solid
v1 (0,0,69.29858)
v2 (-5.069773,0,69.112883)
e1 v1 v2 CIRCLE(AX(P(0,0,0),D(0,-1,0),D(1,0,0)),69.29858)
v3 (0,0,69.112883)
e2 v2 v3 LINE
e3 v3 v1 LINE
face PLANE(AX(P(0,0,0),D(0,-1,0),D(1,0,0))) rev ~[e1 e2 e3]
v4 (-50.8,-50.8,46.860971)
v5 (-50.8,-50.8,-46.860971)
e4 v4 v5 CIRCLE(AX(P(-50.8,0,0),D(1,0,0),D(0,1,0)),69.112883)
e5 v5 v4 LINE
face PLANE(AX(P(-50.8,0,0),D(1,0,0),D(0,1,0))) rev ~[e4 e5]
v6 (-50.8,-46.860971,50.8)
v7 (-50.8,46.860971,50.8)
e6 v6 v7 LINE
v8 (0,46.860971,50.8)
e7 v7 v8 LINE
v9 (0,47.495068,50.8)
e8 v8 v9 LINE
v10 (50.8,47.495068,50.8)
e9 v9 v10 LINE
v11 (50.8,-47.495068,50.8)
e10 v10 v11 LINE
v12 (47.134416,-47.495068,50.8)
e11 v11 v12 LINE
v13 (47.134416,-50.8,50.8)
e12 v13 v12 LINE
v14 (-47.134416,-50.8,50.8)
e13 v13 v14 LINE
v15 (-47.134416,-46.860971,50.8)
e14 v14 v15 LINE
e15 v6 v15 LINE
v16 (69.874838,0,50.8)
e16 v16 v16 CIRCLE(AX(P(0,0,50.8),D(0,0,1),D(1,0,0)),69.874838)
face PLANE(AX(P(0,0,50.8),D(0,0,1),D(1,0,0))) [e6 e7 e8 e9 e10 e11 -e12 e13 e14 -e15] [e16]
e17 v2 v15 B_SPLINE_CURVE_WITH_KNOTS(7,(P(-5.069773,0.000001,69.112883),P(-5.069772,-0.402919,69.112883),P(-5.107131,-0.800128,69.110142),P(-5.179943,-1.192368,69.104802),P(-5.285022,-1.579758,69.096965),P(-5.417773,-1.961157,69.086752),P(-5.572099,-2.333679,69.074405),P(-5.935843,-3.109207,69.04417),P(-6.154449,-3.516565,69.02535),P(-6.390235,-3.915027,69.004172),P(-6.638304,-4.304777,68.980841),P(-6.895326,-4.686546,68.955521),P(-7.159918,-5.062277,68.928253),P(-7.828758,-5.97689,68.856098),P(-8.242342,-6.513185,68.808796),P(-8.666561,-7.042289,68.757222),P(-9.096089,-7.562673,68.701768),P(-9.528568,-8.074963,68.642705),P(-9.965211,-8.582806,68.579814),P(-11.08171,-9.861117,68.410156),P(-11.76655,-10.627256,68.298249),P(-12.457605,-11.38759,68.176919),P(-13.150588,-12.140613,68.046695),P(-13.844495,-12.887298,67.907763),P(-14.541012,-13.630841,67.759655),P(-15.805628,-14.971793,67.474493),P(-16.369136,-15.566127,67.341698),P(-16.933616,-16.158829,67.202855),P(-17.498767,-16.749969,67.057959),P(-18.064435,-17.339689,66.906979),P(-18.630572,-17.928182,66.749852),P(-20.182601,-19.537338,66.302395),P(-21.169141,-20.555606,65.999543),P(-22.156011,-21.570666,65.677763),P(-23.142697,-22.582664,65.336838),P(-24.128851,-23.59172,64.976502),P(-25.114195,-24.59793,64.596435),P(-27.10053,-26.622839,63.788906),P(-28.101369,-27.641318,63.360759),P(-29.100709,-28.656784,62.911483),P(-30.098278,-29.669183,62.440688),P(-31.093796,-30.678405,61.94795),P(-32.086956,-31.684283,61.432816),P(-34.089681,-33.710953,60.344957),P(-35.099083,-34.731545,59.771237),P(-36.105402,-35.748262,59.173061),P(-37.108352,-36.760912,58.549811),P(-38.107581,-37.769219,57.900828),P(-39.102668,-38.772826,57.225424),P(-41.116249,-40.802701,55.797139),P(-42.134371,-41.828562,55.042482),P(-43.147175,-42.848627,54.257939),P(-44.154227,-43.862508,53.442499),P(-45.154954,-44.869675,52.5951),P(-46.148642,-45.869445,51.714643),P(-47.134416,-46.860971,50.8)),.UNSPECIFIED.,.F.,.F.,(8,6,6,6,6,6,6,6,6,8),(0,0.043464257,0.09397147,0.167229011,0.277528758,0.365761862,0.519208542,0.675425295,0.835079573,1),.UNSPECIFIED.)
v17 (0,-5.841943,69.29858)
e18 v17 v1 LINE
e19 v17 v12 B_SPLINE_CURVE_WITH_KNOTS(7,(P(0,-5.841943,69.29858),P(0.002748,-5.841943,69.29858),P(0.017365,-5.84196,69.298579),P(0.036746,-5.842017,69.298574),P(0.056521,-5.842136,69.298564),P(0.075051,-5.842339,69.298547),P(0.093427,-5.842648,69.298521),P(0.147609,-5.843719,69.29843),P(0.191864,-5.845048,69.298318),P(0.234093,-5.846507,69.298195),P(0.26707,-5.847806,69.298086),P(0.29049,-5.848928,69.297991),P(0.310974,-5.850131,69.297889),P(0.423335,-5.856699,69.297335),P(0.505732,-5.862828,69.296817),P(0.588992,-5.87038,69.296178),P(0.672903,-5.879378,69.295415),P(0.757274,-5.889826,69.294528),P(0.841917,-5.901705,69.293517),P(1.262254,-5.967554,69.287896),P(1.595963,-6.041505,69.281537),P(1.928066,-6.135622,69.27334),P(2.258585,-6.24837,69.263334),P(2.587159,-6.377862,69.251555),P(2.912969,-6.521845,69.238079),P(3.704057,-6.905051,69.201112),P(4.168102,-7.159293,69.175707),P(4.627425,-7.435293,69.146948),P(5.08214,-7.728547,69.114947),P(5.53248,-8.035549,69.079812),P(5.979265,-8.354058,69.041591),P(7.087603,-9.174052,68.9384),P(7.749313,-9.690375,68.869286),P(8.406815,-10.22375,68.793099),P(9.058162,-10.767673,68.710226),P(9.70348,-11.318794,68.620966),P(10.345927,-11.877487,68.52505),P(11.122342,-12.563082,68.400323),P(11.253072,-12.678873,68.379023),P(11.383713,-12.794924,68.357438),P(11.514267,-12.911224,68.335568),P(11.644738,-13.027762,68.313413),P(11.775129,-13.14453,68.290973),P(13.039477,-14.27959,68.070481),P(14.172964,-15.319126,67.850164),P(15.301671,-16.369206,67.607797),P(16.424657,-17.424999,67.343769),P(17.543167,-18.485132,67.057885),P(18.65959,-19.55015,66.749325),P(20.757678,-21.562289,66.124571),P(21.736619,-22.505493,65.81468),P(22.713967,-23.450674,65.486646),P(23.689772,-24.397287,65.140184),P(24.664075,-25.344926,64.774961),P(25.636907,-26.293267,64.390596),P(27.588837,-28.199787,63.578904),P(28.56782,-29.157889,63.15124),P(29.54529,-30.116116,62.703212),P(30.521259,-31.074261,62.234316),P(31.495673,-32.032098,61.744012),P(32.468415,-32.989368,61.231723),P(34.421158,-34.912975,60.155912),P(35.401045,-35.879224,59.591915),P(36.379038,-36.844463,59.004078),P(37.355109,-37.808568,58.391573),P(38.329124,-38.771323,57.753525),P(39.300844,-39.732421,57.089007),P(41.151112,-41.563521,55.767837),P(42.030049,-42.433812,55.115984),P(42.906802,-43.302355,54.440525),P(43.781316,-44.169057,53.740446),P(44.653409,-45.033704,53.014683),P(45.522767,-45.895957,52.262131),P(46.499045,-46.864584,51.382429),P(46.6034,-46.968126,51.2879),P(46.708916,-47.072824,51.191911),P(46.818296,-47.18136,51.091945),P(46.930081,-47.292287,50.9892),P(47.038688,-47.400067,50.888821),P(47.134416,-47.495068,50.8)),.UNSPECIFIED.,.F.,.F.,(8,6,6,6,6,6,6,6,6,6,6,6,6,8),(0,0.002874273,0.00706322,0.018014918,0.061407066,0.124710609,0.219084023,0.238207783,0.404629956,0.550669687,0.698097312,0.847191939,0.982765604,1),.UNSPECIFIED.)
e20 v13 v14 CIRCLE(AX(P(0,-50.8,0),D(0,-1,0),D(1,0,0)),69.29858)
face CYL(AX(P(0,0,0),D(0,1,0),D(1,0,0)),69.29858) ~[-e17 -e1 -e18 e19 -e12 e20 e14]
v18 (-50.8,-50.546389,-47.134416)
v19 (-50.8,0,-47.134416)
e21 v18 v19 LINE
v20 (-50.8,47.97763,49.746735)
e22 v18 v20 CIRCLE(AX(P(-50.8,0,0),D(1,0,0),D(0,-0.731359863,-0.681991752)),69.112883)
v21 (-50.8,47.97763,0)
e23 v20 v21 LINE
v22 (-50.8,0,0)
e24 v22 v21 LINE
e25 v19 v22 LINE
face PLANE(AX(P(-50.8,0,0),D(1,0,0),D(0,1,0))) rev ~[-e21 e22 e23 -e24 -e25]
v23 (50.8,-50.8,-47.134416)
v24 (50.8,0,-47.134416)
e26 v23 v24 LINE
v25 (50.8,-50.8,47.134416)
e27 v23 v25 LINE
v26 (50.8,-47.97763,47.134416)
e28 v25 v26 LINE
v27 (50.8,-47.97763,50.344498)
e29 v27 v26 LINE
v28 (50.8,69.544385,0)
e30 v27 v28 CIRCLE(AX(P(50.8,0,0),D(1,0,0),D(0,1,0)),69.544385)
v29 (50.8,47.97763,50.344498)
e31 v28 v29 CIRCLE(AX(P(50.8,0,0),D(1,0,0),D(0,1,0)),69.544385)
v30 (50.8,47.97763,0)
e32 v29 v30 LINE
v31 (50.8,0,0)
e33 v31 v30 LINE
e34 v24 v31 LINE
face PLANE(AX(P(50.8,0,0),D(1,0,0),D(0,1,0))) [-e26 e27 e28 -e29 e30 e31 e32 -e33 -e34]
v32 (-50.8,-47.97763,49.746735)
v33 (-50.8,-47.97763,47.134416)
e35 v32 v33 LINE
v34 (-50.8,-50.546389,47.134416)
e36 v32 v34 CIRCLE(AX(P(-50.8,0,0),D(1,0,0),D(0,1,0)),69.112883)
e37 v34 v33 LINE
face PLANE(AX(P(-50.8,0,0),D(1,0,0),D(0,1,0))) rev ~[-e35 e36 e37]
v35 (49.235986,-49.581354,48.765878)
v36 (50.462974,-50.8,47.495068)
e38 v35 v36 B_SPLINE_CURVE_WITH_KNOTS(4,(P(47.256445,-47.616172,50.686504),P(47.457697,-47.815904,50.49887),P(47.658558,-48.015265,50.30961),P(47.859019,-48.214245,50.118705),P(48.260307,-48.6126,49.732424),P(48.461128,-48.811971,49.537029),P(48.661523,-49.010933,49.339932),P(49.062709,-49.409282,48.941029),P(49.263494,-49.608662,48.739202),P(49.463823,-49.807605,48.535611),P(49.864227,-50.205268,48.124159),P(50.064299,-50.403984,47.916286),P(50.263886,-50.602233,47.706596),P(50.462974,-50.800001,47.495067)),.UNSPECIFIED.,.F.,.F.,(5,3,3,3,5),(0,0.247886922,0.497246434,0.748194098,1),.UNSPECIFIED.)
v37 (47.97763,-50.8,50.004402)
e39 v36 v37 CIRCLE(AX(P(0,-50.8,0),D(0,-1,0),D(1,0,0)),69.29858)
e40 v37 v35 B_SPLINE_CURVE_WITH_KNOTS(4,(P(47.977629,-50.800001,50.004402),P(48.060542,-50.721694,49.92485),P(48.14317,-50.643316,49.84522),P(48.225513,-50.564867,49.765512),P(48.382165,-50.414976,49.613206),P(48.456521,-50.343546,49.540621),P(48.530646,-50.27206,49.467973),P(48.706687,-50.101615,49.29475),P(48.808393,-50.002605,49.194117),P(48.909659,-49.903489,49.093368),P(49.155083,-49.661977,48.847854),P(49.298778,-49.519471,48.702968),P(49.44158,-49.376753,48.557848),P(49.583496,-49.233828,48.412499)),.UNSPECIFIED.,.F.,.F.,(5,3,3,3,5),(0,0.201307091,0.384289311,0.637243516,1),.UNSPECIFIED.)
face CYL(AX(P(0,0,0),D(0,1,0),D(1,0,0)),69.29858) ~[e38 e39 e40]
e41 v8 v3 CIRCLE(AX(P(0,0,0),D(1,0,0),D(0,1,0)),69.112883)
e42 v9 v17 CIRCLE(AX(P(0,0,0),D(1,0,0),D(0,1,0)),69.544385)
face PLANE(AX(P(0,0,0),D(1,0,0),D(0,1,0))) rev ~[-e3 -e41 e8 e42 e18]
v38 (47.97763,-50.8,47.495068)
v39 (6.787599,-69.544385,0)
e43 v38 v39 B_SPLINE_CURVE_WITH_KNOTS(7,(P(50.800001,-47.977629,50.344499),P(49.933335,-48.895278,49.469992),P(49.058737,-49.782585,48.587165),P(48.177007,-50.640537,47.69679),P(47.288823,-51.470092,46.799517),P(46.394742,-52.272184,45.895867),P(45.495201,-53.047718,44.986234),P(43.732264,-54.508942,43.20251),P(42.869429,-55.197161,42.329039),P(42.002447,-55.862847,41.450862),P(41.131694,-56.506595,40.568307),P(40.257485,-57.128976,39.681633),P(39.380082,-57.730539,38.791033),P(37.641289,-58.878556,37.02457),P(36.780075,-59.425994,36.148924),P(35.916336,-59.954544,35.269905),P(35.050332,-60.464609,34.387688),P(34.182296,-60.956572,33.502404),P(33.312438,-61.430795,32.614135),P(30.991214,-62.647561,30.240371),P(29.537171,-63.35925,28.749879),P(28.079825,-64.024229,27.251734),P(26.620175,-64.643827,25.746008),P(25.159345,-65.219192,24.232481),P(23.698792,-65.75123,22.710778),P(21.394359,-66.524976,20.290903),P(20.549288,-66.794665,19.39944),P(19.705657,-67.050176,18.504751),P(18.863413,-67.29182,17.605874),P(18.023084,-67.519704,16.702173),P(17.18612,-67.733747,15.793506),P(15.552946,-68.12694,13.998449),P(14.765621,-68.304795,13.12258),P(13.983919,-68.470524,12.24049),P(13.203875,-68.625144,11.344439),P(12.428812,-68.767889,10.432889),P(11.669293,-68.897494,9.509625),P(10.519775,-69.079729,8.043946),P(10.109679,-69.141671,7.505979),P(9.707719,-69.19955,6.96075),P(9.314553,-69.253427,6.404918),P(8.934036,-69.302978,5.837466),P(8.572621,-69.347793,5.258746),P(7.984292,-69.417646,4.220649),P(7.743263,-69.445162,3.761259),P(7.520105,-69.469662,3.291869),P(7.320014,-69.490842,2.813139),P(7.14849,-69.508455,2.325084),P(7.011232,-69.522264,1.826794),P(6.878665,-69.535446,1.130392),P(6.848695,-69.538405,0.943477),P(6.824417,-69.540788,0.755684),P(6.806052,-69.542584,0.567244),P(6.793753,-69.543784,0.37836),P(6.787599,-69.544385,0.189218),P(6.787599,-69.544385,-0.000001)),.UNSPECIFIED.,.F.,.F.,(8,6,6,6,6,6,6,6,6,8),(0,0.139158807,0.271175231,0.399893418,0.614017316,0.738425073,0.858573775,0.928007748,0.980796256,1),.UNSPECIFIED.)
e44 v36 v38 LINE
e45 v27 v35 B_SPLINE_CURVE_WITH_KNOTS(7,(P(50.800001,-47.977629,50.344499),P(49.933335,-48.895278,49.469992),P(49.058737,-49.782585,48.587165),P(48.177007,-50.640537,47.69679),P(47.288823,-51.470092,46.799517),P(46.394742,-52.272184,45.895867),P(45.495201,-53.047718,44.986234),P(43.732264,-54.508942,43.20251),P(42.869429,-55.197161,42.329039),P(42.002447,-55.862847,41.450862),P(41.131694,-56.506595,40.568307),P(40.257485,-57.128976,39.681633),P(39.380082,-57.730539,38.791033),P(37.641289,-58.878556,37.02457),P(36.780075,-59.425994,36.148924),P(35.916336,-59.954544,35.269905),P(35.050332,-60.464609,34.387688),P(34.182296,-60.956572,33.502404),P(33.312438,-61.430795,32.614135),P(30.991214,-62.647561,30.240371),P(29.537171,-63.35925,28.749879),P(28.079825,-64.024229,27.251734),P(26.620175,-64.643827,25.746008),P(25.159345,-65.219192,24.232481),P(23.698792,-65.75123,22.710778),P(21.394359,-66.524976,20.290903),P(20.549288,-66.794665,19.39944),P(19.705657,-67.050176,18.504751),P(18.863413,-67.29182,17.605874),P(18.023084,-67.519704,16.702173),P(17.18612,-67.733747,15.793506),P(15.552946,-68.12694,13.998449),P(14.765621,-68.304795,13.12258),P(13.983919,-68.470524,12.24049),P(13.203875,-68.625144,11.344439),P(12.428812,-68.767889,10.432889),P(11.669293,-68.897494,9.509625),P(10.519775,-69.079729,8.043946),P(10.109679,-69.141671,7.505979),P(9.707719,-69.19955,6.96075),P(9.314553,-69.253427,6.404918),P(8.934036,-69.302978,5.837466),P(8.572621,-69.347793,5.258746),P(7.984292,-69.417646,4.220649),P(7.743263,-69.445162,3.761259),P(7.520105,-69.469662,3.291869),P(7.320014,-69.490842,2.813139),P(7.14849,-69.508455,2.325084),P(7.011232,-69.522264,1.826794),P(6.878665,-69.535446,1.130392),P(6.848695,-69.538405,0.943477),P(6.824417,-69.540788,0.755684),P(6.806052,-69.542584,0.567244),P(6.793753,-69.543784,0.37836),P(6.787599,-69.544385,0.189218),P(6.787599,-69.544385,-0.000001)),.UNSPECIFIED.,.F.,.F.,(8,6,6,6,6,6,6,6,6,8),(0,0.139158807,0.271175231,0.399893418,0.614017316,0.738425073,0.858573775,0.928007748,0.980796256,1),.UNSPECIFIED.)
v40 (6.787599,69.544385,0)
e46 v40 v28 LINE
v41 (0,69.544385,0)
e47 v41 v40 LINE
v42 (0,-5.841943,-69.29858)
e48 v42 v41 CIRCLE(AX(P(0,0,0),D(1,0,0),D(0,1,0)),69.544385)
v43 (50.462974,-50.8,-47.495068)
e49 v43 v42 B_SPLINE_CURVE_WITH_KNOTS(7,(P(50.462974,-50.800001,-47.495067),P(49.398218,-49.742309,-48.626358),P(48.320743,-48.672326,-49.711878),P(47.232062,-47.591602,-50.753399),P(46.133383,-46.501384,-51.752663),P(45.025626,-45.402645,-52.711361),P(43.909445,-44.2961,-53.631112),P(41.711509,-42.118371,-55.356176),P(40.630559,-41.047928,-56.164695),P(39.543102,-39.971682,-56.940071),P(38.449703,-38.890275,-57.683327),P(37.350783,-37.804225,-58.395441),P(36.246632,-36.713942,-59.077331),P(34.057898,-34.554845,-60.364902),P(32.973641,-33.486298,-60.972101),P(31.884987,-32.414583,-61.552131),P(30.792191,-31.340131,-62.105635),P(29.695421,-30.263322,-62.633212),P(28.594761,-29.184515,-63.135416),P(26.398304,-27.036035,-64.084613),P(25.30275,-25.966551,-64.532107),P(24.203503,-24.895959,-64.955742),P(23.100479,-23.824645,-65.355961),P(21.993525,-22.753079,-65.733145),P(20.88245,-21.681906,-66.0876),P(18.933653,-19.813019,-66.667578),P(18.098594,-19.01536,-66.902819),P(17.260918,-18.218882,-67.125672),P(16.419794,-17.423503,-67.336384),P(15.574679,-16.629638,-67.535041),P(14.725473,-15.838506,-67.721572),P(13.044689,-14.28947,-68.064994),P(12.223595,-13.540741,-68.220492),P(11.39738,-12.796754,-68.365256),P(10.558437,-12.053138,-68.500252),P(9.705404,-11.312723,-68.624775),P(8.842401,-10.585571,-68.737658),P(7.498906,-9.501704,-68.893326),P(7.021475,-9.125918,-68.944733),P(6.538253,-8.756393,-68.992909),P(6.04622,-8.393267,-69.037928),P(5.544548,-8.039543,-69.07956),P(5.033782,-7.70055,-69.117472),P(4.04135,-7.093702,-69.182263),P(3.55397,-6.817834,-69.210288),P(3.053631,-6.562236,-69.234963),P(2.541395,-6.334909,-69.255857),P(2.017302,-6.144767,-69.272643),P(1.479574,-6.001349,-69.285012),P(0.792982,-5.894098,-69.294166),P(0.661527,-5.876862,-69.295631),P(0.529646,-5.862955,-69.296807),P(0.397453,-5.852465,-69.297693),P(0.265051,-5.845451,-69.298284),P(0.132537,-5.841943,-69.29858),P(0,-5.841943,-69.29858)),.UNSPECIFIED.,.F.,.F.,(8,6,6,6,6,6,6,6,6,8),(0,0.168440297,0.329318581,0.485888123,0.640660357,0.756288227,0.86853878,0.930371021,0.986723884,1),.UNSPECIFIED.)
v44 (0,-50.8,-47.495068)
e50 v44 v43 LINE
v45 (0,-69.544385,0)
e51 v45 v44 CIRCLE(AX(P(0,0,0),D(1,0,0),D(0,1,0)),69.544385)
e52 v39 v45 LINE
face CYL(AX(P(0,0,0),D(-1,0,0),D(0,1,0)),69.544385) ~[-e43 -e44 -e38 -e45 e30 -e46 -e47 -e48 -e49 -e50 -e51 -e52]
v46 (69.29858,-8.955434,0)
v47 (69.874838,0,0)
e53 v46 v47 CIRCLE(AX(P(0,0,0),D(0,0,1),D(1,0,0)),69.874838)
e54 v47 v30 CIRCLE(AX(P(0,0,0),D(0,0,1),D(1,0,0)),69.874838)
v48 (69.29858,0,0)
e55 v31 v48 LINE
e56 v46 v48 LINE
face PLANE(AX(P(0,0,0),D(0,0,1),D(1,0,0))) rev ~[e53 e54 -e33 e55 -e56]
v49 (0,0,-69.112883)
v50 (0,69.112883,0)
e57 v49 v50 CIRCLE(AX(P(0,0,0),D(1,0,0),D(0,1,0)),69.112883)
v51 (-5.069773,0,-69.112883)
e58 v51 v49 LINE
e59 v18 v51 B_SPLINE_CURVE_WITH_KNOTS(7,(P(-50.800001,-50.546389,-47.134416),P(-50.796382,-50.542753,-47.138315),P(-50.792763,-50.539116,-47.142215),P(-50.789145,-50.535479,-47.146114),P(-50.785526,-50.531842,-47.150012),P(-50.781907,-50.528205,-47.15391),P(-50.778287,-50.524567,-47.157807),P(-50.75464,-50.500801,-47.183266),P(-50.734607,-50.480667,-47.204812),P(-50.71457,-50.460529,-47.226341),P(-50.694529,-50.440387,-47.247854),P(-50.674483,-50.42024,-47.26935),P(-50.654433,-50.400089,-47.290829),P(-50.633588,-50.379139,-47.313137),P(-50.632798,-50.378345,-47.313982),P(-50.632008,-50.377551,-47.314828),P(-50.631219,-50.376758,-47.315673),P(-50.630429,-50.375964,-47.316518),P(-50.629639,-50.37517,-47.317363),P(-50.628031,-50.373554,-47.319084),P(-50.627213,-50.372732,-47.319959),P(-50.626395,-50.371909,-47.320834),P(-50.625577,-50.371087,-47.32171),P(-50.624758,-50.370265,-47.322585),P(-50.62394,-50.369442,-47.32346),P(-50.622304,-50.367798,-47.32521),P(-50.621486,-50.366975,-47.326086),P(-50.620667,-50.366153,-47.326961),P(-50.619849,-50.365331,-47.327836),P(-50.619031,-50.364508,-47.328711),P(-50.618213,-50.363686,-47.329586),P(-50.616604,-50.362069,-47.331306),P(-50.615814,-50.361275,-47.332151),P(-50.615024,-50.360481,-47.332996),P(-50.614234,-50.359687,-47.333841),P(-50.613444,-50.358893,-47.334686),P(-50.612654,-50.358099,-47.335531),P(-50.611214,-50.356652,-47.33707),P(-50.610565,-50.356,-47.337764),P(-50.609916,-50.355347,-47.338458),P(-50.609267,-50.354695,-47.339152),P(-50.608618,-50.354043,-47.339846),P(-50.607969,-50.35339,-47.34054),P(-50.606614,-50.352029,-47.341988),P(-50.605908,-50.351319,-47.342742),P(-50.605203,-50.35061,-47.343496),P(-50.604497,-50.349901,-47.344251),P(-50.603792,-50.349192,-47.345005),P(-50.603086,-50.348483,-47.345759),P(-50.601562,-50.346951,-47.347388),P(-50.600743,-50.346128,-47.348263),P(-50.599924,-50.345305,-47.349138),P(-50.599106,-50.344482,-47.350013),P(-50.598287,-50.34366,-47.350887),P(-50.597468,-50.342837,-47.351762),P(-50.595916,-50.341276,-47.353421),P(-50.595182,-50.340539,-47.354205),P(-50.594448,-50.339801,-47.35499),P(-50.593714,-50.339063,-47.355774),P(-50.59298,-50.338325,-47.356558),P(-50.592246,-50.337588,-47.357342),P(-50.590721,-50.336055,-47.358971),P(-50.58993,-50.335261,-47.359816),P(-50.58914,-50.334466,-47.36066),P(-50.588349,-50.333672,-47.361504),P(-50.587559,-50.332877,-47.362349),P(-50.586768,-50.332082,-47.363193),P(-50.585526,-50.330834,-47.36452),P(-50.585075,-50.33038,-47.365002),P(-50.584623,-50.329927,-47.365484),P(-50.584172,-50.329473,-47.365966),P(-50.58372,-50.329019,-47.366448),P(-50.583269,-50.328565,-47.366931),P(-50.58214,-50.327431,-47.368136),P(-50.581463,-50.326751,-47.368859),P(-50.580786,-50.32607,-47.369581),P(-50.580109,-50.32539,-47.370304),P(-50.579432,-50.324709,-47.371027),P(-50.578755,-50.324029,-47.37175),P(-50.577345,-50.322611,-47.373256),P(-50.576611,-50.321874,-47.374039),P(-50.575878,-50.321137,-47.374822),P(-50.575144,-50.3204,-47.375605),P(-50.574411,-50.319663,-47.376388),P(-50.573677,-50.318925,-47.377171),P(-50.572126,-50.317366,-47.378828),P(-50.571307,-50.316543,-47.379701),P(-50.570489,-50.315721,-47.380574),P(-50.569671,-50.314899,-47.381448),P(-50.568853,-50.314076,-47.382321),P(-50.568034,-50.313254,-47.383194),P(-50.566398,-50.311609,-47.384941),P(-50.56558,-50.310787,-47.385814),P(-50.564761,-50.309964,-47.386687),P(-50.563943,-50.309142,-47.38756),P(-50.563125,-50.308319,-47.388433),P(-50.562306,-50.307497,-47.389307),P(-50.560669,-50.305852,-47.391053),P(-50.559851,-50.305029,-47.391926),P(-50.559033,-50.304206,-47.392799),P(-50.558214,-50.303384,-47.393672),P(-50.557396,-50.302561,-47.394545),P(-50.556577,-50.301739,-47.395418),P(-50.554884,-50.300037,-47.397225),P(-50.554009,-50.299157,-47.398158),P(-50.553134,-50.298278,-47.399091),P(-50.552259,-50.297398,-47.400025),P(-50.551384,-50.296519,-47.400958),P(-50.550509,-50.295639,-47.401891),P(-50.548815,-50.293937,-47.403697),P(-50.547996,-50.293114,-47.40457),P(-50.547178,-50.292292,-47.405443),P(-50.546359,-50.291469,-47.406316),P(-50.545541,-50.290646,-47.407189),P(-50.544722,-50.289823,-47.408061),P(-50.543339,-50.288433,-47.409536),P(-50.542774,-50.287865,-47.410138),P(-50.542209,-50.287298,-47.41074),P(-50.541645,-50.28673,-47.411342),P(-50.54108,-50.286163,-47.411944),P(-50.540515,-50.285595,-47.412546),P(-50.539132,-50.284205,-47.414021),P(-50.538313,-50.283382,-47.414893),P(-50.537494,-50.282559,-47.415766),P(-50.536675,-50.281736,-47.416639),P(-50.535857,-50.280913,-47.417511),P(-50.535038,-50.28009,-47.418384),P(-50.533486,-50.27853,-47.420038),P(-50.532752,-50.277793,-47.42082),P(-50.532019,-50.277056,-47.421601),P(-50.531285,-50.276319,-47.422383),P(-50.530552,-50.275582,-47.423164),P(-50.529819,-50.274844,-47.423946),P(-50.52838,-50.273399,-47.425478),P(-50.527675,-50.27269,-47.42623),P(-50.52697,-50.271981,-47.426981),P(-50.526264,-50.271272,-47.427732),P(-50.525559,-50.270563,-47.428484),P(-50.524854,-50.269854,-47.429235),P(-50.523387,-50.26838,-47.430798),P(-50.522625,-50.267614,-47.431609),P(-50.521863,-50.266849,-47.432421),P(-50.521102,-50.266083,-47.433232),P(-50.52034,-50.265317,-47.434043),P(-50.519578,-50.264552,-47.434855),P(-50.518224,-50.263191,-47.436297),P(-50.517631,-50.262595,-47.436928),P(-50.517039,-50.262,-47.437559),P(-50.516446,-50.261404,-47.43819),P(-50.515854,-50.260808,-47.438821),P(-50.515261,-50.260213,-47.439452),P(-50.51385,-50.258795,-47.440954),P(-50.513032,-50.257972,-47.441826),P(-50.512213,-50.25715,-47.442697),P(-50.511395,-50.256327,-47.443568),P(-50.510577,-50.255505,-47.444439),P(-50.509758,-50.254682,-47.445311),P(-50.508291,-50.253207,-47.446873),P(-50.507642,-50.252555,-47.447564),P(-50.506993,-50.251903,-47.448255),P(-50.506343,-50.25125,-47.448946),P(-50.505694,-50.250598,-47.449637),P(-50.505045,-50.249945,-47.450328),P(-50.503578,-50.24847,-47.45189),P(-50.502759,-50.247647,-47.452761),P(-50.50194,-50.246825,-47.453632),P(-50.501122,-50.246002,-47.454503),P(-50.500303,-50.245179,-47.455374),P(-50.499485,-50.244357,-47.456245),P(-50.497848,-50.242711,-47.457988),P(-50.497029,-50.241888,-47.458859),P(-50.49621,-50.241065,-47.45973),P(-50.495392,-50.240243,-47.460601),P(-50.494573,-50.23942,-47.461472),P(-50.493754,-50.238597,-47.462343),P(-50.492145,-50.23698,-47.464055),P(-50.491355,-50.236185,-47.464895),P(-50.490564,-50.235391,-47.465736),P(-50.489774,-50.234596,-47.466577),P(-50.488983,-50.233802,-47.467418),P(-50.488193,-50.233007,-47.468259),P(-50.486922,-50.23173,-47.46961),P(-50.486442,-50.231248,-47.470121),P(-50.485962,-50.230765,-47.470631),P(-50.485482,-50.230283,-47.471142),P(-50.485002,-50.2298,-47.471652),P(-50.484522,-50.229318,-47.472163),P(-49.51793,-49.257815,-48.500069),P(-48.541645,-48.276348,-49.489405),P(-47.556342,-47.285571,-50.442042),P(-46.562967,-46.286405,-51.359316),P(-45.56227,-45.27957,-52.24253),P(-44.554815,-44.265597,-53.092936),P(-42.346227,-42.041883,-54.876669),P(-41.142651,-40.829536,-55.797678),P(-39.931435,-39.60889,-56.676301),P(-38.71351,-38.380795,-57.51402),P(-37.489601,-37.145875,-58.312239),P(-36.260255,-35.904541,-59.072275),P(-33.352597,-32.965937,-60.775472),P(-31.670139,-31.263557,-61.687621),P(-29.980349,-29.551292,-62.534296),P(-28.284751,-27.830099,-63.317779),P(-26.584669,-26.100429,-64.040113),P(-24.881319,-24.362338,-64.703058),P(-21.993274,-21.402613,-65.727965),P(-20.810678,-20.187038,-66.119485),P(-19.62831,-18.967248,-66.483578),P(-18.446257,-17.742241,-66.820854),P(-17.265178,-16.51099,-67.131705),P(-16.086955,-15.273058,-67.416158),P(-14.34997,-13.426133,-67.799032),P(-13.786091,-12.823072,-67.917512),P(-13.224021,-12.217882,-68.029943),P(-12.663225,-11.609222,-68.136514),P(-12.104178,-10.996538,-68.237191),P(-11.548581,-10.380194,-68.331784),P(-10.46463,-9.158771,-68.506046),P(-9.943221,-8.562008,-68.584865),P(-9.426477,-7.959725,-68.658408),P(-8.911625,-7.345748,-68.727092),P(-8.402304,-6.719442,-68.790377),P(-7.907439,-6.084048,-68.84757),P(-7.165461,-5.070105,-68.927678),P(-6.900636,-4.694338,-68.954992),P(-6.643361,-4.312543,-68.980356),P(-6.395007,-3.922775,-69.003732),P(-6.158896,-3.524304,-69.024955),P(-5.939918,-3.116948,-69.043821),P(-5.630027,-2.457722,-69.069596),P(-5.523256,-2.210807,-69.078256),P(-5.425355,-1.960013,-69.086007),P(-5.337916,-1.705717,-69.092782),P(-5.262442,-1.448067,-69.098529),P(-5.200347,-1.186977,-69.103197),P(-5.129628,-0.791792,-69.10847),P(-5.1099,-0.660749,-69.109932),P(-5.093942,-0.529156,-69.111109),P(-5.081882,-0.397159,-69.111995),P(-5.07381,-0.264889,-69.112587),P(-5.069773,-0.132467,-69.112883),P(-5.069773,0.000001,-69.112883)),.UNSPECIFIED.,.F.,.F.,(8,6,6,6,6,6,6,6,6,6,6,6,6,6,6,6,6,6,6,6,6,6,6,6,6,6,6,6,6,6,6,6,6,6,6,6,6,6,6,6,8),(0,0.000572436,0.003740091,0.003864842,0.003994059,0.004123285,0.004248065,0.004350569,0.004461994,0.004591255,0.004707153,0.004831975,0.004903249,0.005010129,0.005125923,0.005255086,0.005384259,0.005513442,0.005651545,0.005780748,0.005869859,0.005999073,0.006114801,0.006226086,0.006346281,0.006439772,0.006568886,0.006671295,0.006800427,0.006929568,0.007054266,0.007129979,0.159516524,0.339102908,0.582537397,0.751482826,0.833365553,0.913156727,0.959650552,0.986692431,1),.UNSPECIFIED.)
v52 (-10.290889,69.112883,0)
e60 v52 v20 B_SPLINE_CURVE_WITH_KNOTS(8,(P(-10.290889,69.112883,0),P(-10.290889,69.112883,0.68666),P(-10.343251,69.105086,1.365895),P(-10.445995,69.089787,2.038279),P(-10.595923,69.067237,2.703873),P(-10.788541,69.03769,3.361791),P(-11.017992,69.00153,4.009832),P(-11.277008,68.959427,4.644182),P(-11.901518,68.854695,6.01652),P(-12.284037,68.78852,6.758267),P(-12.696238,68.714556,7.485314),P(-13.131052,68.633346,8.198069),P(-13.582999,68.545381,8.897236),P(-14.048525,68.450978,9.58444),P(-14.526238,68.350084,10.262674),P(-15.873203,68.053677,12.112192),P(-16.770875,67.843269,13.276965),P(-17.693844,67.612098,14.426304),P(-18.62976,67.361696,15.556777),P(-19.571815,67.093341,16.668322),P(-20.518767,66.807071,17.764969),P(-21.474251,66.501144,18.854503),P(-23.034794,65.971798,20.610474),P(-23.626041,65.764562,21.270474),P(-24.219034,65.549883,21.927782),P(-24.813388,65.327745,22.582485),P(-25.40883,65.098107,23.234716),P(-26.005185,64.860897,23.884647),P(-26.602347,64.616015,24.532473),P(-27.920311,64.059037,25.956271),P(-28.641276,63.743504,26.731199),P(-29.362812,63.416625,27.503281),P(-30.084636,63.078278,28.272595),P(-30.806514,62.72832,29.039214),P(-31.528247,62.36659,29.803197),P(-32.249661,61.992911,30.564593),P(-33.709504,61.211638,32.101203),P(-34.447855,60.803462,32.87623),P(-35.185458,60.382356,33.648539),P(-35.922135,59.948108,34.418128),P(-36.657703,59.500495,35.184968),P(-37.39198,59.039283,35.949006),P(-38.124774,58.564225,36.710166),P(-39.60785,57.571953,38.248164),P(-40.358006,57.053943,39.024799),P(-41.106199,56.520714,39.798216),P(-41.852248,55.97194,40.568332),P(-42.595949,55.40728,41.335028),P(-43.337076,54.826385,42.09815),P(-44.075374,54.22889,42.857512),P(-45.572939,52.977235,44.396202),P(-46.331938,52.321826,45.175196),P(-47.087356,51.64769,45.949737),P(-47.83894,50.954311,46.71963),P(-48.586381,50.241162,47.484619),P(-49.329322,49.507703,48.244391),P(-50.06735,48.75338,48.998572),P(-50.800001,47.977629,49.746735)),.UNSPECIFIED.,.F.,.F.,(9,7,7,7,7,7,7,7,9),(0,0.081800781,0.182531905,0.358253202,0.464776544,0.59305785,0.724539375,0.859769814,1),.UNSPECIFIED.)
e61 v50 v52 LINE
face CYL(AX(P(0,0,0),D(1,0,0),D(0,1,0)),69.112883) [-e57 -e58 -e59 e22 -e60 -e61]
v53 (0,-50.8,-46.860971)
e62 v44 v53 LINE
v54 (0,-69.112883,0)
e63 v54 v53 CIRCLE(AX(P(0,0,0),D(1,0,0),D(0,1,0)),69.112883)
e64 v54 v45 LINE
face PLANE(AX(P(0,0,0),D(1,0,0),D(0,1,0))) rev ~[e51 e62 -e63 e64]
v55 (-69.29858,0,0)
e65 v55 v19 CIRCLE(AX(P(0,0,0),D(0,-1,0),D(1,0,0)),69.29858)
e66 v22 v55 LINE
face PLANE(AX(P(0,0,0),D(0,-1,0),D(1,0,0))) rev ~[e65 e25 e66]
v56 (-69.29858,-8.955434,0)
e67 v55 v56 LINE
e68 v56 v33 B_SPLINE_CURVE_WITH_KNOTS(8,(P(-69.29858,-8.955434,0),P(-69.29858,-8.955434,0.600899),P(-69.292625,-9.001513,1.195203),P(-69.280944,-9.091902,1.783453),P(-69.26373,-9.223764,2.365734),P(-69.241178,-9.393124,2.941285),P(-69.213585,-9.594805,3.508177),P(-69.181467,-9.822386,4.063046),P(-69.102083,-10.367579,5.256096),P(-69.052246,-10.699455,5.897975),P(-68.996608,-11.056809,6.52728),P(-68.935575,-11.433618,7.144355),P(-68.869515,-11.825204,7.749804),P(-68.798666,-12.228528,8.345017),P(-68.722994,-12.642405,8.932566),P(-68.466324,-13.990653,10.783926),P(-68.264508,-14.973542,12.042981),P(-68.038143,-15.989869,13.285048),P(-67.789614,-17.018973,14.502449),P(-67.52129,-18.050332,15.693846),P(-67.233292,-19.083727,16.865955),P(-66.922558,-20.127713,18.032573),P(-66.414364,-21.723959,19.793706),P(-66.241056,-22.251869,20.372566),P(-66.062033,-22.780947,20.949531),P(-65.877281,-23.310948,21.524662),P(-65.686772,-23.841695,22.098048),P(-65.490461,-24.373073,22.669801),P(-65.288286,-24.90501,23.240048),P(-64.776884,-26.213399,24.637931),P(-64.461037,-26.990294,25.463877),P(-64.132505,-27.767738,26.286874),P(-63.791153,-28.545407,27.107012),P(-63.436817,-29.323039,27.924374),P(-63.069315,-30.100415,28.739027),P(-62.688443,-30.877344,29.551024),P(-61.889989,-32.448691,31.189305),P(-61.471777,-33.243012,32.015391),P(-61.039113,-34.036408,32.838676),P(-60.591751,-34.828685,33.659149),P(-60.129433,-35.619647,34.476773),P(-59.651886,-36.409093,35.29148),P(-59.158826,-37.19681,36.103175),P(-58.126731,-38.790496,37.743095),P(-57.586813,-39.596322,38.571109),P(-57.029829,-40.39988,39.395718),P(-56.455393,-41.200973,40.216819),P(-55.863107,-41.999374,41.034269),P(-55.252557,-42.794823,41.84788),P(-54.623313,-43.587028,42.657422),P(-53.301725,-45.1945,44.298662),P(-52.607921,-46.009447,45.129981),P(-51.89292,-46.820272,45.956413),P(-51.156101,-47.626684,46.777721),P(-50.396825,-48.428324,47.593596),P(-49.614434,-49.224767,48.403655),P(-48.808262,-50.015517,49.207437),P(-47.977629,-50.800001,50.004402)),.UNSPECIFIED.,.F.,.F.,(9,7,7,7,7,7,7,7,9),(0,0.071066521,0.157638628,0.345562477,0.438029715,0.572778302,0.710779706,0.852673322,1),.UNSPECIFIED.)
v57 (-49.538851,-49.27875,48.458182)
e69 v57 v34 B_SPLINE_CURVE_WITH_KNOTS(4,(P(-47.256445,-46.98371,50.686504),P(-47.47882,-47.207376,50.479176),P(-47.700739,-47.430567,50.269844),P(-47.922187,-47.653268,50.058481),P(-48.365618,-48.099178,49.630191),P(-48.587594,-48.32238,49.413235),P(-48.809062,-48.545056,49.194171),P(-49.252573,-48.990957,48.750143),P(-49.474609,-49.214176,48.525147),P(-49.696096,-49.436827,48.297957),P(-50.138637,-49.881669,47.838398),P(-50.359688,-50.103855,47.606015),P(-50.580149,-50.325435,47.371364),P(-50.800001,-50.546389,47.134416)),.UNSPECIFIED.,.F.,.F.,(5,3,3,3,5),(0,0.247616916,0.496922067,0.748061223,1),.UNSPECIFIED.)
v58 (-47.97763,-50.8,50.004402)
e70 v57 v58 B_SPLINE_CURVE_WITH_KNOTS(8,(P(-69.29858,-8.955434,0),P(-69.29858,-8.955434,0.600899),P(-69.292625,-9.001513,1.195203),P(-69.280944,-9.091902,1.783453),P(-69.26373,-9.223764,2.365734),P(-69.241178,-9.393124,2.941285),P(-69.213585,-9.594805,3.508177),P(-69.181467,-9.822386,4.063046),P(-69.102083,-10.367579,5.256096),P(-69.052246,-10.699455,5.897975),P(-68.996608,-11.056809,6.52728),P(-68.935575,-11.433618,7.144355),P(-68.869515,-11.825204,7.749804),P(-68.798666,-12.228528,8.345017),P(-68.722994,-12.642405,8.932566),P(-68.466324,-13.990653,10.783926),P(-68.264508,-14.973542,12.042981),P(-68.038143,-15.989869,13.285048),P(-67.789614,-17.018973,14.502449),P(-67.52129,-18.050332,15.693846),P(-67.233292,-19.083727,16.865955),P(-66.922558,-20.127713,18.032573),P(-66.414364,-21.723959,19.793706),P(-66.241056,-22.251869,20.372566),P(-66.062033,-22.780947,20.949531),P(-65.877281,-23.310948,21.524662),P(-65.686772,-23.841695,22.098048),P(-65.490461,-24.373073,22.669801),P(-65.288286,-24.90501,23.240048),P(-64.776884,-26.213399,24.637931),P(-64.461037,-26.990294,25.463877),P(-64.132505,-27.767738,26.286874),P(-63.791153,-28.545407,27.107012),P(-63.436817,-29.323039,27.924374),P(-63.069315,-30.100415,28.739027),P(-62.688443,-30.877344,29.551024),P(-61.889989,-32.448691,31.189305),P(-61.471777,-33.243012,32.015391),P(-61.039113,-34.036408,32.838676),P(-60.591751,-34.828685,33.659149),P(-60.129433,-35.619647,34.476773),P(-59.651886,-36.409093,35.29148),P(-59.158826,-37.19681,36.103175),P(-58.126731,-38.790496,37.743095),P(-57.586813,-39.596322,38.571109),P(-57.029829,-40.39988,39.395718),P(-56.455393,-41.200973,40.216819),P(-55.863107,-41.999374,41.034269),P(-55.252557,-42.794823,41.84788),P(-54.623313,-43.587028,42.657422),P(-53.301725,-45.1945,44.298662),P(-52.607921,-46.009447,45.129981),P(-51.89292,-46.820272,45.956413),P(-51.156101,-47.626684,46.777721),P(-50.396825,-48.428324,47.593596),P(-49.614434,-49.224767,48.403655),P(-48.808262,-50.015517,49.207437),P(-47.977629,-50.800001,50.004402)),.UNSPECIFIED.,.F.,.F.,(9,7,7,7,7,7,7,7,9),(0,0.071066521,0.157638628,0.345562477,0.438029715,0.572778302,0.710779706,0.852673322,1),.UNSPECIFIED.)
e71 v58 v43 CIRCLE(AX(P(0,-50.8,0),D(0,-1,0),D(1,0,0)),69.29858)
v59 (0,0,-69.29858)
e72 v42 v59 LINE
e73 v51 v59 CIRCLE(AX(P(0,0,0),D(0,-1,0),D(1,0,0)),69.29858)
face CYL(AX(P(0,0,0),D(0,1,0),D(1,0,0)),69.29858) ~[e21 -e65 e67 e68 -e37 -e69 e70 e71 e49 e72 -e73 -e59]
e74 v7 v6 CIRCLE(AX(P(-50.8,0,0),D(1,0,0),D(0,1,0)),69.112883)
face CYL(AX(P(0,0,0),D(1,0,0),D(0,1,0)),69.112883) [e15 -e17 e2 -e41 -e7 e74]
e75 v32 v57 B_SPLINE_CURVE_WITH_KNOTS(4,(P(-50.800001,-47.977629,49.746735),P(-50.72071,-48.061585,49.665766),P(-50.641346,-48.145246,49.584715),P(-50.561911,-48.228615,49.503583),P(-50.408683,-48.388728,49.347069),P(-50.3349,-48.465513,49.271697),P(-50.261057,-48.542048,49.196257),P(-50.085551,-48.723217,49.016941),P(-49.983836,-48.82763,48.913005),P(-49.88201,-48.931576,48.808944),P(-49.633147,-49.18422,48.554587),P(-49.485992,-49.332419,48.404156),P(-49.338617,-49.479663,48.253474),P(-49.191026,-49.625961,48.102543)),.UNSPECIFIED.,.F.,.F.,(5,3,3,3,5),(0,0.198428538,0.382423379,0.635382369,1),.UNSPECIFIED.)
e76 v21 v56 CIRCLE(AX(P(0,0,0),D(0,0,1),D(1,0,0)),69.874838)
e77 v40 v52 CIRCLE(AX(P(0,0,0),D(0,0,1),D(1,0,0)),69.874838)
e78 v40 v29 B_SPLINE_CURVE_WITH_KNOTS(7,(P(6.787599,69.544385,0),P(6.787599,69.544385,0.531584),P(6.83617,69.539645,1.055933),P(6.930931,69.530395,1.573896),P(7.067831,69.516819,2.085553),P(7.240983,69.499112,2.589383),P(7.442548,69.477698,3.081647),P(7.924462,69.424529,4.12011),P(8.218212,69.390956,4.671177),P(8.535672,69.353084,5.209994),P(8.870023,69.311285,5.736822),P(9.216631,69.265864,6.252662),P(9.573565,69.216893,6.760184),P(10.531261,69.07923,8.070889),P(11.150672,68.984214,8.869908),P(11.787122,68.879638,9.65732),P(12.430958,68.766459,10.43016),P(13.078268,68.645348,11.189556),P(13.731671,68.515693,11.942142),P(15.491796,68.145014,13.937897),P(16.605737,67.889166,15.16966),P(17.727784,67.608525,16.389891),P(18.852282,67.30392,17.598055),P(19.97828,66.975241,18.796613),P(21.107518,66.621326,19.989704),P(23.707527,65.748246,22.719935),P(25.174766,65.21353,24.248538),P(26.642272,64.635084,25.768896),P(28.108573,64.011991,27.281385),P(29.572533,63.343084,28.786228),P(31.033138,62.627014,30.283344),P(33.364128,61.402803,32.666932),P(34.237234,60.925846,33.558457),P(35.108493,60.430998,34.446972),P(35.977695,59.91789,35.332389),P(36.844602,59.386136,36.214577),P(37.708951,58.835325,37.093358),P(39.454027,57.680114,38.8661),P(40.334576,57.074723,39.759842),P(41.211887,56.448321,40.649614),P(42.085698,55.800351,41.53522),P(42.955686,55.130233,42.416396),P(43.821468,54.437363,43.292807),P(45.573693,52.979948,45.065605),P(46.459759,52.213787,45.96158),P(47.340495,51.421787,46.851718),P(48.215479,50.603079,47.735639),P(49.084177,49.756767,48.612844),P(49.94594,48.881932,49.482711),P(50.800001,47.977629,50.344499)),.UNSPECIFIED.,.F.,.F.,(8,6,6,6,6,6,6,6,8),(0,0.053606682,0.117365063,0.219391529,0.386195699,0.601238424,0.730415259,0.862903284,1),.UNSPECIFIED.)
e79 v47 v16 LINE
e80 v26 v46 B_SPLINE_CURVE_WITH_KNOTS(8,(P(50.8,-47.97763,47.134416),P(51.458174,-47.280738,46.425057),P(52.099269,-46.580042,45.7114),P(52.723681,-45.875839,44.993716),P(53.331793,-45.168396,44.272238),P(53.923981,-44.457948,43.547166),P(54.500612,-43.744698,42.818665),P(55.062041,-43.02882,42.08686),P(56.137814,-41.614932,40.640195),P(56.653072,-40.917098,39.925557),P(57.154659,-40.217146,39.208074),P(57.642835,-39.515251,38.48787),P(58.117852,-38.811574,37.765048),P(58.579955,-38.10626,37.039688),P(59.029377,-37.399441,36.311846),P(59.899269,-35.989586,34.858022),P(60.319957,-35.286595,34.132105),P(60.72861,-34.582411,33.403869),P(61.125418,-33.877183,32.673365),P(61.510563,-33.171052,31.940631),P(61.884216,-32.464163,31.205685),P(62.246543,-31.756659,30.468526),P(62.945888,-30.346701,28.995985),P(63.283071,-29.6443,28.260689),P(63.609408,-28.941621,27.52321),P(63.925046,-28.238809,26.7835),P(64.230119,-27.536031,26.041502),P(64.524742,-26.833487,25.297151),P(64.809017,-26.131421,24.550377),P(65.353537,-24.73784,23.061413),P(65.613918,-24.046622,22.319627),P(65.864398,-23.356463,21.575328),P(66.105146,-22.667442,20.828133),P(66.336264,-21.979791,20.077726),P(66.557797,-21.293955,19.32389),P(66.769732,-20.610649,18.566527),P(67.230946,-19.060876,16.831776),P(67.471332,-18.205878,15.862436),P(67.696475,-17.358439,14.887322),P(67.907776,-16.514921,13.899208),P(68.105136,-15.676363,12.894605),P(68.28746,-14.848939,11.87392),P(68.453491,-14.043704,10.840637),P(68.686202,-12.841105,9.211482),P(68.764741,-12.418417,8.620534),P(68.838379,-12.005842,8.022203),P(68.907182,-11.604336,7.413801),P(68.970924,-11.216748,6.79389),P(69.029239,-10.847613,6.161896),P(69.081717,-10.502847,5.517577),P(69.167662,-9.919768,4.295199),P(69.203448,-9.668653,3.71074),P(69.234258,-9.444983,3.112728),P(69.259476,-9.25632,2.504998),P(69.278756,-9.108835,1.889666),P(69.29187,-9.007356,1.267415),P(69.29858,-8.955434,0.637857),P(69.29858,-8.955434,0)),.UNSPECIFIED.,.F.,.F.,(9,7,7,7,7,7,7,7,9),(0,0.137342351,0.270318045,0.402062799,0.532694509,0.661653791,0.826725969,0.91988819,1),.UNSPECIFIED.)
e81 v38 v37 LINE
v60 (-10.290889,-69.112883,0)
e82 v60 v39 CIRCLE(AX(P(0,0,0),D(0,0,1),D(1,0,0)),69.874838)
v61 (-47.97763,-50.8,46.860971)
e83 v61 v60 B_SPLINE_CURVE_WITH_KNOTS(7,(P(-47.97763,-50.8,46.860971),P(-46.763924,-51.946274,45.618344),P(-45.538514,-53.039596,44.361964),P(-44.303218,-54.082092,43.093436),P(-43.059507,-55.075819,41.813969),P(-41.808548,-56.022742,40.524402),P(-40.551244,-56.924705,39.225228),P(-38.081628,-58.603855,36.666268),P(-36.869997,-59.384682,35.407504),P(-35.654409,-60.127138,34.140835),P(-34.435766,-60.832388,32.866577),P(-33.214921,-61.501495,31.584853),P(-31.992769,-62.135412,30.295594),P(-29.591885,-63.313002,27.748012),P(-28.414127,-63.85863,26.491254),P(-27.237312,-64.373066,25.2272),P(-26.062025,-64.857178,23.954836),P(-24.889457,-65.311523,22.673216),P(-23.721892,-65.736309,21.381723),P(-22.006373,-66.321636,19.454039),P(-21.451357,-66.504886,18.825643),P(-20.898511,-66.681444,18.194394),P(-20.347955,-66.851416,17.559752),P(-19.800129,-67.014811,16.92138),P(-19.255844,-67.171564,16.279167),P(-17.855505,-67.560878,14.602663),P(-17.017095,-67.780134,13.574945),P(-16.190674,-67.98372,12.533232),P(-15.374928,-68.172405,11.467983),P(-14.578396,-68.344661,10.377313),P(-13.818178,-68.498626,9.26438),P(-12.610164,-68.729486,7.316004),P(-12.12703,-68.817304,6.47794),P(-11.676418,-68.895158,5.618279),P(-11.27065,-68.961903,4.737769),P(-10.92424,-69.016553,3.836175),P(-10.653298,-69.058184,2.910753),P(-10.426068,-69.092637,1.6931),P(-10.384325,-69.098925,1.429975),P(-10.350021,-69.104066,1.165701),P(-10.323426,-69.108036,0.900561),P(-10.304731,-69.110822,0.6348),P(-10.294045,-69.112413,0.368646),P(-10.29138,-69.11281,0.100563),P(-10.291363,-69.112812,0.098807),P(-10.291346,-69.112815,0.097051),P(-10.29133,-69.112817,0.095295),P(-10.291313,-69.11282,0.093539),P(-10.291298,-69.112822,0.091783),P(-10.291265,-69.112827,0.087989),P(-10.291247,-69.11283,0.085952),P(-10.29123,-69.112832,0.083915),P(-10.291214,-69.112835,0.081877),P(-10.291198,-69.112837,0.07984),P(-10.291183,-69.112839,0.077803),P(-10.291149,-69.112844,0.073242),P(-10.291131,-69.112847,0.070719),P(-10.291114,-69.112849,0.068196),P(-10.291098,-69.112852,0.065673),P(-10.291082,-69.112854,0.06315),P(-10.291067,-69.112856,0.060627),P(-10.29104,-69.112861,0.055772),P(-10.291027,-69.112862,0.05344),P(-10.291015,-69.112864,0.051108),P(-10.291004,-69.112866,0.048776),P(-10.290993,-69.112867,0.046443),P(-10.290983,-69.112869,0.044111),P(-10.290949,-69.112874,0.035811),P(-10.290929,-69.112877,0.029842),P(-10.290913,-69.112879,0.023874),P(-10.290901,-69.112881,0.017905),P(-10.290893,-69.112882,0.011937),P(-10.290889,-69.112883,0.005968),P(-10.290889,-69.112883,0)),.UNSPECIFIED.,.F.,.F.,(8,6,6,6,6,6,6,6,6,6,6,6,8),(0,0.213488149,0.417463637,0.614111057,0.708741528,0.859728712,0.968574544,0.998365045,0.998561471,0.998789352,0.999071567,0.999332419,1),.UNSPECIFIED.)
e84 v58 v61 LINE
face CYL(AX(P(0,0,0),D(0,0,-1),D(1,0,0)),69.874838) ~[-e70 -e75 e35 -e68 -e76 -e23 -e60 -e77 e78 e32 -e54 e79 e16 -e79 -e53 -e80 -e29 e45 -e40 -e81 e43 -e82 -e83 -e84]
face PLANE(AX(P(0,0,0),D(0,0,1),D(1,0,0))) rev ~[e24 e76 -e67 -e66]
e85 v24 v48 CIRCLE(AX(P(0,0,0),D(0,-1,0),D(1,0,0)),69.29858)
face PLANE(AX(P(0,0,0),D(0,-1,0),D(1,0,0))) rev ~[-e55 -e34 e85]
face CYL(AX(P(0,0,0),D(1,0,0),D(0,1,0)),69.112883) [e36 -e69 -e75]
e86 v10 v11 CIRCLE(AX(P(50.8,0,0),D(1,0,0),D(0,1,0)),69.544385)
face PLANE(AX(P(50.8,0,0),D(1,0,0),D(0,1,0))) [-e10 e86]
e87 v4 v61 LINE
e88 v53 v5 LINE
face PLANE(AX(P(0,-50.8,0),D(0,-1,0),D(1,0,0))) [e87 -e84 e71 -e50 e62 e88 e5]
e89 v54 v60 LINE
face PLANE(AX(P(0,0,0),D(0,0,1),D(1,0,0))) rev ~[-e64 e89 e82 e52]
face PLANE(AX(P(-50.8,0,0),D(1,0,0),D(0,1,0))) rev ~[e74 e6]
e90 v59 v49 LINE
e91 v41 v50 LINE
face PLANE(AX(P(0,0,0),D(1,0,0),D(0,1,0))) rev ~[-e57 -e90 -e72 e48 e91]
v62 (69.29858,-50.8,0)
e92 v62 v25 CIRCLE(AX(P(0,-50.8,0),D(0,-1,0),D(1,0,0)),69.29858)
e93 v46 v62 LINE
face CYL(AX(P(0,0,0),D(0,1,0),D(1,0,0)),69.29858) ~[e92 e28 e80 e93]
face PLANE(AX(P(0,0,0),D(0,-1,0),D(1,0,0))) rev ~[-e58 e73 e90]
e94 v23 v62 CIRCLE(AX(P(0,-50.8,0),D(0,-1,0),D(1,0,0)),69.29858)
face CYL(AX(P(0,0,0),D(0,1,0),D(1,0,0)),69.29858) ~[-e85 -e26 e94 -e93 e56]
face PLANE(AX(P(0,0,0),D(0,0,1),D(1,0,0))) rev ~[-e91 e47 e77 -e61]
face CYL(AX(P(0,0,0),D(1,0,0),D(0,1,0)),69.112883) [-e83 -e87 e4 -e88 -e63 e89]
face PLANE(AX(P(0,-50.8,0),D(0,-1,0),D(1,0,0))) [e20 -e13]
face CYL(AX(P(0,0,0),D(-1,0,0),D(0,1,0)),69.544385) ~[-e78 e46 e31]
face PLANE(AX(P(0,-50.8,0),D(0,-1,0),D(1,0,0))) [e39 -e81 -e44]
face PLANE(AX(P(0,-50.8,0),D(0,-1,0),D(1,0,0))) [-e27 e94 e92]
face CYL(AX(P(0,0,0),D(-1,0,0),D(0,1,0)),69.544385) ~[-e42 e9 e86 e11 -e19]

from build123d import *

# Parameters (mm, degrees)
F0_R      = 69.29858
F1_DEPTH  = 50.8
F2_R      = 69.381637
F3_DEPTH  = 50.8
F4_R      = 69.544385
F5_DEPTH  = 50.8
F6_R      = 69.112883
F7_DEPTH  = 50.8
F8_R      = 69.874838
F9_DEPTH  = 50.8
F10_R     = 69.061616
F11_DEPTH = 50.8


with BuildPart() as f1:
    # F0 (on Front) → F1 (new body)
    with BuildSketch(Plane.XZ):
        Circle(F0_R)
    extrude(amount=F1_DEPTH)

    # F2 (on Top) → F3 (join)
    with BuildSketch(Plane.XY):
        Circle(F2_R)
    extrude(amount=F3_DEPTH)

    # F4 (on Right) → F5 (join)
    with BuildSketch(Plane.YZ):
        Circle(F4_R)
    extrude(amount=F5_DEPTH)

    # F6 (on Right) → F7 (join)
    with BuildSketch(Plane.YZ):
        Circle(F6_R)
    extrude(amount=-F7_DEPTH)

    # F8 (on Top) → F9 (join)
    with BuildSketch(Plane.XY):
        Circle(F8_R)
    extrude(amount=F9_DEPTH)

    # F10 (on Front) → F11 (join)
    with BuildSketch(Plane.XZ):
        Circle(F10_R)
    extrude(amount=F11_DEPTH)


solid = f1.part
